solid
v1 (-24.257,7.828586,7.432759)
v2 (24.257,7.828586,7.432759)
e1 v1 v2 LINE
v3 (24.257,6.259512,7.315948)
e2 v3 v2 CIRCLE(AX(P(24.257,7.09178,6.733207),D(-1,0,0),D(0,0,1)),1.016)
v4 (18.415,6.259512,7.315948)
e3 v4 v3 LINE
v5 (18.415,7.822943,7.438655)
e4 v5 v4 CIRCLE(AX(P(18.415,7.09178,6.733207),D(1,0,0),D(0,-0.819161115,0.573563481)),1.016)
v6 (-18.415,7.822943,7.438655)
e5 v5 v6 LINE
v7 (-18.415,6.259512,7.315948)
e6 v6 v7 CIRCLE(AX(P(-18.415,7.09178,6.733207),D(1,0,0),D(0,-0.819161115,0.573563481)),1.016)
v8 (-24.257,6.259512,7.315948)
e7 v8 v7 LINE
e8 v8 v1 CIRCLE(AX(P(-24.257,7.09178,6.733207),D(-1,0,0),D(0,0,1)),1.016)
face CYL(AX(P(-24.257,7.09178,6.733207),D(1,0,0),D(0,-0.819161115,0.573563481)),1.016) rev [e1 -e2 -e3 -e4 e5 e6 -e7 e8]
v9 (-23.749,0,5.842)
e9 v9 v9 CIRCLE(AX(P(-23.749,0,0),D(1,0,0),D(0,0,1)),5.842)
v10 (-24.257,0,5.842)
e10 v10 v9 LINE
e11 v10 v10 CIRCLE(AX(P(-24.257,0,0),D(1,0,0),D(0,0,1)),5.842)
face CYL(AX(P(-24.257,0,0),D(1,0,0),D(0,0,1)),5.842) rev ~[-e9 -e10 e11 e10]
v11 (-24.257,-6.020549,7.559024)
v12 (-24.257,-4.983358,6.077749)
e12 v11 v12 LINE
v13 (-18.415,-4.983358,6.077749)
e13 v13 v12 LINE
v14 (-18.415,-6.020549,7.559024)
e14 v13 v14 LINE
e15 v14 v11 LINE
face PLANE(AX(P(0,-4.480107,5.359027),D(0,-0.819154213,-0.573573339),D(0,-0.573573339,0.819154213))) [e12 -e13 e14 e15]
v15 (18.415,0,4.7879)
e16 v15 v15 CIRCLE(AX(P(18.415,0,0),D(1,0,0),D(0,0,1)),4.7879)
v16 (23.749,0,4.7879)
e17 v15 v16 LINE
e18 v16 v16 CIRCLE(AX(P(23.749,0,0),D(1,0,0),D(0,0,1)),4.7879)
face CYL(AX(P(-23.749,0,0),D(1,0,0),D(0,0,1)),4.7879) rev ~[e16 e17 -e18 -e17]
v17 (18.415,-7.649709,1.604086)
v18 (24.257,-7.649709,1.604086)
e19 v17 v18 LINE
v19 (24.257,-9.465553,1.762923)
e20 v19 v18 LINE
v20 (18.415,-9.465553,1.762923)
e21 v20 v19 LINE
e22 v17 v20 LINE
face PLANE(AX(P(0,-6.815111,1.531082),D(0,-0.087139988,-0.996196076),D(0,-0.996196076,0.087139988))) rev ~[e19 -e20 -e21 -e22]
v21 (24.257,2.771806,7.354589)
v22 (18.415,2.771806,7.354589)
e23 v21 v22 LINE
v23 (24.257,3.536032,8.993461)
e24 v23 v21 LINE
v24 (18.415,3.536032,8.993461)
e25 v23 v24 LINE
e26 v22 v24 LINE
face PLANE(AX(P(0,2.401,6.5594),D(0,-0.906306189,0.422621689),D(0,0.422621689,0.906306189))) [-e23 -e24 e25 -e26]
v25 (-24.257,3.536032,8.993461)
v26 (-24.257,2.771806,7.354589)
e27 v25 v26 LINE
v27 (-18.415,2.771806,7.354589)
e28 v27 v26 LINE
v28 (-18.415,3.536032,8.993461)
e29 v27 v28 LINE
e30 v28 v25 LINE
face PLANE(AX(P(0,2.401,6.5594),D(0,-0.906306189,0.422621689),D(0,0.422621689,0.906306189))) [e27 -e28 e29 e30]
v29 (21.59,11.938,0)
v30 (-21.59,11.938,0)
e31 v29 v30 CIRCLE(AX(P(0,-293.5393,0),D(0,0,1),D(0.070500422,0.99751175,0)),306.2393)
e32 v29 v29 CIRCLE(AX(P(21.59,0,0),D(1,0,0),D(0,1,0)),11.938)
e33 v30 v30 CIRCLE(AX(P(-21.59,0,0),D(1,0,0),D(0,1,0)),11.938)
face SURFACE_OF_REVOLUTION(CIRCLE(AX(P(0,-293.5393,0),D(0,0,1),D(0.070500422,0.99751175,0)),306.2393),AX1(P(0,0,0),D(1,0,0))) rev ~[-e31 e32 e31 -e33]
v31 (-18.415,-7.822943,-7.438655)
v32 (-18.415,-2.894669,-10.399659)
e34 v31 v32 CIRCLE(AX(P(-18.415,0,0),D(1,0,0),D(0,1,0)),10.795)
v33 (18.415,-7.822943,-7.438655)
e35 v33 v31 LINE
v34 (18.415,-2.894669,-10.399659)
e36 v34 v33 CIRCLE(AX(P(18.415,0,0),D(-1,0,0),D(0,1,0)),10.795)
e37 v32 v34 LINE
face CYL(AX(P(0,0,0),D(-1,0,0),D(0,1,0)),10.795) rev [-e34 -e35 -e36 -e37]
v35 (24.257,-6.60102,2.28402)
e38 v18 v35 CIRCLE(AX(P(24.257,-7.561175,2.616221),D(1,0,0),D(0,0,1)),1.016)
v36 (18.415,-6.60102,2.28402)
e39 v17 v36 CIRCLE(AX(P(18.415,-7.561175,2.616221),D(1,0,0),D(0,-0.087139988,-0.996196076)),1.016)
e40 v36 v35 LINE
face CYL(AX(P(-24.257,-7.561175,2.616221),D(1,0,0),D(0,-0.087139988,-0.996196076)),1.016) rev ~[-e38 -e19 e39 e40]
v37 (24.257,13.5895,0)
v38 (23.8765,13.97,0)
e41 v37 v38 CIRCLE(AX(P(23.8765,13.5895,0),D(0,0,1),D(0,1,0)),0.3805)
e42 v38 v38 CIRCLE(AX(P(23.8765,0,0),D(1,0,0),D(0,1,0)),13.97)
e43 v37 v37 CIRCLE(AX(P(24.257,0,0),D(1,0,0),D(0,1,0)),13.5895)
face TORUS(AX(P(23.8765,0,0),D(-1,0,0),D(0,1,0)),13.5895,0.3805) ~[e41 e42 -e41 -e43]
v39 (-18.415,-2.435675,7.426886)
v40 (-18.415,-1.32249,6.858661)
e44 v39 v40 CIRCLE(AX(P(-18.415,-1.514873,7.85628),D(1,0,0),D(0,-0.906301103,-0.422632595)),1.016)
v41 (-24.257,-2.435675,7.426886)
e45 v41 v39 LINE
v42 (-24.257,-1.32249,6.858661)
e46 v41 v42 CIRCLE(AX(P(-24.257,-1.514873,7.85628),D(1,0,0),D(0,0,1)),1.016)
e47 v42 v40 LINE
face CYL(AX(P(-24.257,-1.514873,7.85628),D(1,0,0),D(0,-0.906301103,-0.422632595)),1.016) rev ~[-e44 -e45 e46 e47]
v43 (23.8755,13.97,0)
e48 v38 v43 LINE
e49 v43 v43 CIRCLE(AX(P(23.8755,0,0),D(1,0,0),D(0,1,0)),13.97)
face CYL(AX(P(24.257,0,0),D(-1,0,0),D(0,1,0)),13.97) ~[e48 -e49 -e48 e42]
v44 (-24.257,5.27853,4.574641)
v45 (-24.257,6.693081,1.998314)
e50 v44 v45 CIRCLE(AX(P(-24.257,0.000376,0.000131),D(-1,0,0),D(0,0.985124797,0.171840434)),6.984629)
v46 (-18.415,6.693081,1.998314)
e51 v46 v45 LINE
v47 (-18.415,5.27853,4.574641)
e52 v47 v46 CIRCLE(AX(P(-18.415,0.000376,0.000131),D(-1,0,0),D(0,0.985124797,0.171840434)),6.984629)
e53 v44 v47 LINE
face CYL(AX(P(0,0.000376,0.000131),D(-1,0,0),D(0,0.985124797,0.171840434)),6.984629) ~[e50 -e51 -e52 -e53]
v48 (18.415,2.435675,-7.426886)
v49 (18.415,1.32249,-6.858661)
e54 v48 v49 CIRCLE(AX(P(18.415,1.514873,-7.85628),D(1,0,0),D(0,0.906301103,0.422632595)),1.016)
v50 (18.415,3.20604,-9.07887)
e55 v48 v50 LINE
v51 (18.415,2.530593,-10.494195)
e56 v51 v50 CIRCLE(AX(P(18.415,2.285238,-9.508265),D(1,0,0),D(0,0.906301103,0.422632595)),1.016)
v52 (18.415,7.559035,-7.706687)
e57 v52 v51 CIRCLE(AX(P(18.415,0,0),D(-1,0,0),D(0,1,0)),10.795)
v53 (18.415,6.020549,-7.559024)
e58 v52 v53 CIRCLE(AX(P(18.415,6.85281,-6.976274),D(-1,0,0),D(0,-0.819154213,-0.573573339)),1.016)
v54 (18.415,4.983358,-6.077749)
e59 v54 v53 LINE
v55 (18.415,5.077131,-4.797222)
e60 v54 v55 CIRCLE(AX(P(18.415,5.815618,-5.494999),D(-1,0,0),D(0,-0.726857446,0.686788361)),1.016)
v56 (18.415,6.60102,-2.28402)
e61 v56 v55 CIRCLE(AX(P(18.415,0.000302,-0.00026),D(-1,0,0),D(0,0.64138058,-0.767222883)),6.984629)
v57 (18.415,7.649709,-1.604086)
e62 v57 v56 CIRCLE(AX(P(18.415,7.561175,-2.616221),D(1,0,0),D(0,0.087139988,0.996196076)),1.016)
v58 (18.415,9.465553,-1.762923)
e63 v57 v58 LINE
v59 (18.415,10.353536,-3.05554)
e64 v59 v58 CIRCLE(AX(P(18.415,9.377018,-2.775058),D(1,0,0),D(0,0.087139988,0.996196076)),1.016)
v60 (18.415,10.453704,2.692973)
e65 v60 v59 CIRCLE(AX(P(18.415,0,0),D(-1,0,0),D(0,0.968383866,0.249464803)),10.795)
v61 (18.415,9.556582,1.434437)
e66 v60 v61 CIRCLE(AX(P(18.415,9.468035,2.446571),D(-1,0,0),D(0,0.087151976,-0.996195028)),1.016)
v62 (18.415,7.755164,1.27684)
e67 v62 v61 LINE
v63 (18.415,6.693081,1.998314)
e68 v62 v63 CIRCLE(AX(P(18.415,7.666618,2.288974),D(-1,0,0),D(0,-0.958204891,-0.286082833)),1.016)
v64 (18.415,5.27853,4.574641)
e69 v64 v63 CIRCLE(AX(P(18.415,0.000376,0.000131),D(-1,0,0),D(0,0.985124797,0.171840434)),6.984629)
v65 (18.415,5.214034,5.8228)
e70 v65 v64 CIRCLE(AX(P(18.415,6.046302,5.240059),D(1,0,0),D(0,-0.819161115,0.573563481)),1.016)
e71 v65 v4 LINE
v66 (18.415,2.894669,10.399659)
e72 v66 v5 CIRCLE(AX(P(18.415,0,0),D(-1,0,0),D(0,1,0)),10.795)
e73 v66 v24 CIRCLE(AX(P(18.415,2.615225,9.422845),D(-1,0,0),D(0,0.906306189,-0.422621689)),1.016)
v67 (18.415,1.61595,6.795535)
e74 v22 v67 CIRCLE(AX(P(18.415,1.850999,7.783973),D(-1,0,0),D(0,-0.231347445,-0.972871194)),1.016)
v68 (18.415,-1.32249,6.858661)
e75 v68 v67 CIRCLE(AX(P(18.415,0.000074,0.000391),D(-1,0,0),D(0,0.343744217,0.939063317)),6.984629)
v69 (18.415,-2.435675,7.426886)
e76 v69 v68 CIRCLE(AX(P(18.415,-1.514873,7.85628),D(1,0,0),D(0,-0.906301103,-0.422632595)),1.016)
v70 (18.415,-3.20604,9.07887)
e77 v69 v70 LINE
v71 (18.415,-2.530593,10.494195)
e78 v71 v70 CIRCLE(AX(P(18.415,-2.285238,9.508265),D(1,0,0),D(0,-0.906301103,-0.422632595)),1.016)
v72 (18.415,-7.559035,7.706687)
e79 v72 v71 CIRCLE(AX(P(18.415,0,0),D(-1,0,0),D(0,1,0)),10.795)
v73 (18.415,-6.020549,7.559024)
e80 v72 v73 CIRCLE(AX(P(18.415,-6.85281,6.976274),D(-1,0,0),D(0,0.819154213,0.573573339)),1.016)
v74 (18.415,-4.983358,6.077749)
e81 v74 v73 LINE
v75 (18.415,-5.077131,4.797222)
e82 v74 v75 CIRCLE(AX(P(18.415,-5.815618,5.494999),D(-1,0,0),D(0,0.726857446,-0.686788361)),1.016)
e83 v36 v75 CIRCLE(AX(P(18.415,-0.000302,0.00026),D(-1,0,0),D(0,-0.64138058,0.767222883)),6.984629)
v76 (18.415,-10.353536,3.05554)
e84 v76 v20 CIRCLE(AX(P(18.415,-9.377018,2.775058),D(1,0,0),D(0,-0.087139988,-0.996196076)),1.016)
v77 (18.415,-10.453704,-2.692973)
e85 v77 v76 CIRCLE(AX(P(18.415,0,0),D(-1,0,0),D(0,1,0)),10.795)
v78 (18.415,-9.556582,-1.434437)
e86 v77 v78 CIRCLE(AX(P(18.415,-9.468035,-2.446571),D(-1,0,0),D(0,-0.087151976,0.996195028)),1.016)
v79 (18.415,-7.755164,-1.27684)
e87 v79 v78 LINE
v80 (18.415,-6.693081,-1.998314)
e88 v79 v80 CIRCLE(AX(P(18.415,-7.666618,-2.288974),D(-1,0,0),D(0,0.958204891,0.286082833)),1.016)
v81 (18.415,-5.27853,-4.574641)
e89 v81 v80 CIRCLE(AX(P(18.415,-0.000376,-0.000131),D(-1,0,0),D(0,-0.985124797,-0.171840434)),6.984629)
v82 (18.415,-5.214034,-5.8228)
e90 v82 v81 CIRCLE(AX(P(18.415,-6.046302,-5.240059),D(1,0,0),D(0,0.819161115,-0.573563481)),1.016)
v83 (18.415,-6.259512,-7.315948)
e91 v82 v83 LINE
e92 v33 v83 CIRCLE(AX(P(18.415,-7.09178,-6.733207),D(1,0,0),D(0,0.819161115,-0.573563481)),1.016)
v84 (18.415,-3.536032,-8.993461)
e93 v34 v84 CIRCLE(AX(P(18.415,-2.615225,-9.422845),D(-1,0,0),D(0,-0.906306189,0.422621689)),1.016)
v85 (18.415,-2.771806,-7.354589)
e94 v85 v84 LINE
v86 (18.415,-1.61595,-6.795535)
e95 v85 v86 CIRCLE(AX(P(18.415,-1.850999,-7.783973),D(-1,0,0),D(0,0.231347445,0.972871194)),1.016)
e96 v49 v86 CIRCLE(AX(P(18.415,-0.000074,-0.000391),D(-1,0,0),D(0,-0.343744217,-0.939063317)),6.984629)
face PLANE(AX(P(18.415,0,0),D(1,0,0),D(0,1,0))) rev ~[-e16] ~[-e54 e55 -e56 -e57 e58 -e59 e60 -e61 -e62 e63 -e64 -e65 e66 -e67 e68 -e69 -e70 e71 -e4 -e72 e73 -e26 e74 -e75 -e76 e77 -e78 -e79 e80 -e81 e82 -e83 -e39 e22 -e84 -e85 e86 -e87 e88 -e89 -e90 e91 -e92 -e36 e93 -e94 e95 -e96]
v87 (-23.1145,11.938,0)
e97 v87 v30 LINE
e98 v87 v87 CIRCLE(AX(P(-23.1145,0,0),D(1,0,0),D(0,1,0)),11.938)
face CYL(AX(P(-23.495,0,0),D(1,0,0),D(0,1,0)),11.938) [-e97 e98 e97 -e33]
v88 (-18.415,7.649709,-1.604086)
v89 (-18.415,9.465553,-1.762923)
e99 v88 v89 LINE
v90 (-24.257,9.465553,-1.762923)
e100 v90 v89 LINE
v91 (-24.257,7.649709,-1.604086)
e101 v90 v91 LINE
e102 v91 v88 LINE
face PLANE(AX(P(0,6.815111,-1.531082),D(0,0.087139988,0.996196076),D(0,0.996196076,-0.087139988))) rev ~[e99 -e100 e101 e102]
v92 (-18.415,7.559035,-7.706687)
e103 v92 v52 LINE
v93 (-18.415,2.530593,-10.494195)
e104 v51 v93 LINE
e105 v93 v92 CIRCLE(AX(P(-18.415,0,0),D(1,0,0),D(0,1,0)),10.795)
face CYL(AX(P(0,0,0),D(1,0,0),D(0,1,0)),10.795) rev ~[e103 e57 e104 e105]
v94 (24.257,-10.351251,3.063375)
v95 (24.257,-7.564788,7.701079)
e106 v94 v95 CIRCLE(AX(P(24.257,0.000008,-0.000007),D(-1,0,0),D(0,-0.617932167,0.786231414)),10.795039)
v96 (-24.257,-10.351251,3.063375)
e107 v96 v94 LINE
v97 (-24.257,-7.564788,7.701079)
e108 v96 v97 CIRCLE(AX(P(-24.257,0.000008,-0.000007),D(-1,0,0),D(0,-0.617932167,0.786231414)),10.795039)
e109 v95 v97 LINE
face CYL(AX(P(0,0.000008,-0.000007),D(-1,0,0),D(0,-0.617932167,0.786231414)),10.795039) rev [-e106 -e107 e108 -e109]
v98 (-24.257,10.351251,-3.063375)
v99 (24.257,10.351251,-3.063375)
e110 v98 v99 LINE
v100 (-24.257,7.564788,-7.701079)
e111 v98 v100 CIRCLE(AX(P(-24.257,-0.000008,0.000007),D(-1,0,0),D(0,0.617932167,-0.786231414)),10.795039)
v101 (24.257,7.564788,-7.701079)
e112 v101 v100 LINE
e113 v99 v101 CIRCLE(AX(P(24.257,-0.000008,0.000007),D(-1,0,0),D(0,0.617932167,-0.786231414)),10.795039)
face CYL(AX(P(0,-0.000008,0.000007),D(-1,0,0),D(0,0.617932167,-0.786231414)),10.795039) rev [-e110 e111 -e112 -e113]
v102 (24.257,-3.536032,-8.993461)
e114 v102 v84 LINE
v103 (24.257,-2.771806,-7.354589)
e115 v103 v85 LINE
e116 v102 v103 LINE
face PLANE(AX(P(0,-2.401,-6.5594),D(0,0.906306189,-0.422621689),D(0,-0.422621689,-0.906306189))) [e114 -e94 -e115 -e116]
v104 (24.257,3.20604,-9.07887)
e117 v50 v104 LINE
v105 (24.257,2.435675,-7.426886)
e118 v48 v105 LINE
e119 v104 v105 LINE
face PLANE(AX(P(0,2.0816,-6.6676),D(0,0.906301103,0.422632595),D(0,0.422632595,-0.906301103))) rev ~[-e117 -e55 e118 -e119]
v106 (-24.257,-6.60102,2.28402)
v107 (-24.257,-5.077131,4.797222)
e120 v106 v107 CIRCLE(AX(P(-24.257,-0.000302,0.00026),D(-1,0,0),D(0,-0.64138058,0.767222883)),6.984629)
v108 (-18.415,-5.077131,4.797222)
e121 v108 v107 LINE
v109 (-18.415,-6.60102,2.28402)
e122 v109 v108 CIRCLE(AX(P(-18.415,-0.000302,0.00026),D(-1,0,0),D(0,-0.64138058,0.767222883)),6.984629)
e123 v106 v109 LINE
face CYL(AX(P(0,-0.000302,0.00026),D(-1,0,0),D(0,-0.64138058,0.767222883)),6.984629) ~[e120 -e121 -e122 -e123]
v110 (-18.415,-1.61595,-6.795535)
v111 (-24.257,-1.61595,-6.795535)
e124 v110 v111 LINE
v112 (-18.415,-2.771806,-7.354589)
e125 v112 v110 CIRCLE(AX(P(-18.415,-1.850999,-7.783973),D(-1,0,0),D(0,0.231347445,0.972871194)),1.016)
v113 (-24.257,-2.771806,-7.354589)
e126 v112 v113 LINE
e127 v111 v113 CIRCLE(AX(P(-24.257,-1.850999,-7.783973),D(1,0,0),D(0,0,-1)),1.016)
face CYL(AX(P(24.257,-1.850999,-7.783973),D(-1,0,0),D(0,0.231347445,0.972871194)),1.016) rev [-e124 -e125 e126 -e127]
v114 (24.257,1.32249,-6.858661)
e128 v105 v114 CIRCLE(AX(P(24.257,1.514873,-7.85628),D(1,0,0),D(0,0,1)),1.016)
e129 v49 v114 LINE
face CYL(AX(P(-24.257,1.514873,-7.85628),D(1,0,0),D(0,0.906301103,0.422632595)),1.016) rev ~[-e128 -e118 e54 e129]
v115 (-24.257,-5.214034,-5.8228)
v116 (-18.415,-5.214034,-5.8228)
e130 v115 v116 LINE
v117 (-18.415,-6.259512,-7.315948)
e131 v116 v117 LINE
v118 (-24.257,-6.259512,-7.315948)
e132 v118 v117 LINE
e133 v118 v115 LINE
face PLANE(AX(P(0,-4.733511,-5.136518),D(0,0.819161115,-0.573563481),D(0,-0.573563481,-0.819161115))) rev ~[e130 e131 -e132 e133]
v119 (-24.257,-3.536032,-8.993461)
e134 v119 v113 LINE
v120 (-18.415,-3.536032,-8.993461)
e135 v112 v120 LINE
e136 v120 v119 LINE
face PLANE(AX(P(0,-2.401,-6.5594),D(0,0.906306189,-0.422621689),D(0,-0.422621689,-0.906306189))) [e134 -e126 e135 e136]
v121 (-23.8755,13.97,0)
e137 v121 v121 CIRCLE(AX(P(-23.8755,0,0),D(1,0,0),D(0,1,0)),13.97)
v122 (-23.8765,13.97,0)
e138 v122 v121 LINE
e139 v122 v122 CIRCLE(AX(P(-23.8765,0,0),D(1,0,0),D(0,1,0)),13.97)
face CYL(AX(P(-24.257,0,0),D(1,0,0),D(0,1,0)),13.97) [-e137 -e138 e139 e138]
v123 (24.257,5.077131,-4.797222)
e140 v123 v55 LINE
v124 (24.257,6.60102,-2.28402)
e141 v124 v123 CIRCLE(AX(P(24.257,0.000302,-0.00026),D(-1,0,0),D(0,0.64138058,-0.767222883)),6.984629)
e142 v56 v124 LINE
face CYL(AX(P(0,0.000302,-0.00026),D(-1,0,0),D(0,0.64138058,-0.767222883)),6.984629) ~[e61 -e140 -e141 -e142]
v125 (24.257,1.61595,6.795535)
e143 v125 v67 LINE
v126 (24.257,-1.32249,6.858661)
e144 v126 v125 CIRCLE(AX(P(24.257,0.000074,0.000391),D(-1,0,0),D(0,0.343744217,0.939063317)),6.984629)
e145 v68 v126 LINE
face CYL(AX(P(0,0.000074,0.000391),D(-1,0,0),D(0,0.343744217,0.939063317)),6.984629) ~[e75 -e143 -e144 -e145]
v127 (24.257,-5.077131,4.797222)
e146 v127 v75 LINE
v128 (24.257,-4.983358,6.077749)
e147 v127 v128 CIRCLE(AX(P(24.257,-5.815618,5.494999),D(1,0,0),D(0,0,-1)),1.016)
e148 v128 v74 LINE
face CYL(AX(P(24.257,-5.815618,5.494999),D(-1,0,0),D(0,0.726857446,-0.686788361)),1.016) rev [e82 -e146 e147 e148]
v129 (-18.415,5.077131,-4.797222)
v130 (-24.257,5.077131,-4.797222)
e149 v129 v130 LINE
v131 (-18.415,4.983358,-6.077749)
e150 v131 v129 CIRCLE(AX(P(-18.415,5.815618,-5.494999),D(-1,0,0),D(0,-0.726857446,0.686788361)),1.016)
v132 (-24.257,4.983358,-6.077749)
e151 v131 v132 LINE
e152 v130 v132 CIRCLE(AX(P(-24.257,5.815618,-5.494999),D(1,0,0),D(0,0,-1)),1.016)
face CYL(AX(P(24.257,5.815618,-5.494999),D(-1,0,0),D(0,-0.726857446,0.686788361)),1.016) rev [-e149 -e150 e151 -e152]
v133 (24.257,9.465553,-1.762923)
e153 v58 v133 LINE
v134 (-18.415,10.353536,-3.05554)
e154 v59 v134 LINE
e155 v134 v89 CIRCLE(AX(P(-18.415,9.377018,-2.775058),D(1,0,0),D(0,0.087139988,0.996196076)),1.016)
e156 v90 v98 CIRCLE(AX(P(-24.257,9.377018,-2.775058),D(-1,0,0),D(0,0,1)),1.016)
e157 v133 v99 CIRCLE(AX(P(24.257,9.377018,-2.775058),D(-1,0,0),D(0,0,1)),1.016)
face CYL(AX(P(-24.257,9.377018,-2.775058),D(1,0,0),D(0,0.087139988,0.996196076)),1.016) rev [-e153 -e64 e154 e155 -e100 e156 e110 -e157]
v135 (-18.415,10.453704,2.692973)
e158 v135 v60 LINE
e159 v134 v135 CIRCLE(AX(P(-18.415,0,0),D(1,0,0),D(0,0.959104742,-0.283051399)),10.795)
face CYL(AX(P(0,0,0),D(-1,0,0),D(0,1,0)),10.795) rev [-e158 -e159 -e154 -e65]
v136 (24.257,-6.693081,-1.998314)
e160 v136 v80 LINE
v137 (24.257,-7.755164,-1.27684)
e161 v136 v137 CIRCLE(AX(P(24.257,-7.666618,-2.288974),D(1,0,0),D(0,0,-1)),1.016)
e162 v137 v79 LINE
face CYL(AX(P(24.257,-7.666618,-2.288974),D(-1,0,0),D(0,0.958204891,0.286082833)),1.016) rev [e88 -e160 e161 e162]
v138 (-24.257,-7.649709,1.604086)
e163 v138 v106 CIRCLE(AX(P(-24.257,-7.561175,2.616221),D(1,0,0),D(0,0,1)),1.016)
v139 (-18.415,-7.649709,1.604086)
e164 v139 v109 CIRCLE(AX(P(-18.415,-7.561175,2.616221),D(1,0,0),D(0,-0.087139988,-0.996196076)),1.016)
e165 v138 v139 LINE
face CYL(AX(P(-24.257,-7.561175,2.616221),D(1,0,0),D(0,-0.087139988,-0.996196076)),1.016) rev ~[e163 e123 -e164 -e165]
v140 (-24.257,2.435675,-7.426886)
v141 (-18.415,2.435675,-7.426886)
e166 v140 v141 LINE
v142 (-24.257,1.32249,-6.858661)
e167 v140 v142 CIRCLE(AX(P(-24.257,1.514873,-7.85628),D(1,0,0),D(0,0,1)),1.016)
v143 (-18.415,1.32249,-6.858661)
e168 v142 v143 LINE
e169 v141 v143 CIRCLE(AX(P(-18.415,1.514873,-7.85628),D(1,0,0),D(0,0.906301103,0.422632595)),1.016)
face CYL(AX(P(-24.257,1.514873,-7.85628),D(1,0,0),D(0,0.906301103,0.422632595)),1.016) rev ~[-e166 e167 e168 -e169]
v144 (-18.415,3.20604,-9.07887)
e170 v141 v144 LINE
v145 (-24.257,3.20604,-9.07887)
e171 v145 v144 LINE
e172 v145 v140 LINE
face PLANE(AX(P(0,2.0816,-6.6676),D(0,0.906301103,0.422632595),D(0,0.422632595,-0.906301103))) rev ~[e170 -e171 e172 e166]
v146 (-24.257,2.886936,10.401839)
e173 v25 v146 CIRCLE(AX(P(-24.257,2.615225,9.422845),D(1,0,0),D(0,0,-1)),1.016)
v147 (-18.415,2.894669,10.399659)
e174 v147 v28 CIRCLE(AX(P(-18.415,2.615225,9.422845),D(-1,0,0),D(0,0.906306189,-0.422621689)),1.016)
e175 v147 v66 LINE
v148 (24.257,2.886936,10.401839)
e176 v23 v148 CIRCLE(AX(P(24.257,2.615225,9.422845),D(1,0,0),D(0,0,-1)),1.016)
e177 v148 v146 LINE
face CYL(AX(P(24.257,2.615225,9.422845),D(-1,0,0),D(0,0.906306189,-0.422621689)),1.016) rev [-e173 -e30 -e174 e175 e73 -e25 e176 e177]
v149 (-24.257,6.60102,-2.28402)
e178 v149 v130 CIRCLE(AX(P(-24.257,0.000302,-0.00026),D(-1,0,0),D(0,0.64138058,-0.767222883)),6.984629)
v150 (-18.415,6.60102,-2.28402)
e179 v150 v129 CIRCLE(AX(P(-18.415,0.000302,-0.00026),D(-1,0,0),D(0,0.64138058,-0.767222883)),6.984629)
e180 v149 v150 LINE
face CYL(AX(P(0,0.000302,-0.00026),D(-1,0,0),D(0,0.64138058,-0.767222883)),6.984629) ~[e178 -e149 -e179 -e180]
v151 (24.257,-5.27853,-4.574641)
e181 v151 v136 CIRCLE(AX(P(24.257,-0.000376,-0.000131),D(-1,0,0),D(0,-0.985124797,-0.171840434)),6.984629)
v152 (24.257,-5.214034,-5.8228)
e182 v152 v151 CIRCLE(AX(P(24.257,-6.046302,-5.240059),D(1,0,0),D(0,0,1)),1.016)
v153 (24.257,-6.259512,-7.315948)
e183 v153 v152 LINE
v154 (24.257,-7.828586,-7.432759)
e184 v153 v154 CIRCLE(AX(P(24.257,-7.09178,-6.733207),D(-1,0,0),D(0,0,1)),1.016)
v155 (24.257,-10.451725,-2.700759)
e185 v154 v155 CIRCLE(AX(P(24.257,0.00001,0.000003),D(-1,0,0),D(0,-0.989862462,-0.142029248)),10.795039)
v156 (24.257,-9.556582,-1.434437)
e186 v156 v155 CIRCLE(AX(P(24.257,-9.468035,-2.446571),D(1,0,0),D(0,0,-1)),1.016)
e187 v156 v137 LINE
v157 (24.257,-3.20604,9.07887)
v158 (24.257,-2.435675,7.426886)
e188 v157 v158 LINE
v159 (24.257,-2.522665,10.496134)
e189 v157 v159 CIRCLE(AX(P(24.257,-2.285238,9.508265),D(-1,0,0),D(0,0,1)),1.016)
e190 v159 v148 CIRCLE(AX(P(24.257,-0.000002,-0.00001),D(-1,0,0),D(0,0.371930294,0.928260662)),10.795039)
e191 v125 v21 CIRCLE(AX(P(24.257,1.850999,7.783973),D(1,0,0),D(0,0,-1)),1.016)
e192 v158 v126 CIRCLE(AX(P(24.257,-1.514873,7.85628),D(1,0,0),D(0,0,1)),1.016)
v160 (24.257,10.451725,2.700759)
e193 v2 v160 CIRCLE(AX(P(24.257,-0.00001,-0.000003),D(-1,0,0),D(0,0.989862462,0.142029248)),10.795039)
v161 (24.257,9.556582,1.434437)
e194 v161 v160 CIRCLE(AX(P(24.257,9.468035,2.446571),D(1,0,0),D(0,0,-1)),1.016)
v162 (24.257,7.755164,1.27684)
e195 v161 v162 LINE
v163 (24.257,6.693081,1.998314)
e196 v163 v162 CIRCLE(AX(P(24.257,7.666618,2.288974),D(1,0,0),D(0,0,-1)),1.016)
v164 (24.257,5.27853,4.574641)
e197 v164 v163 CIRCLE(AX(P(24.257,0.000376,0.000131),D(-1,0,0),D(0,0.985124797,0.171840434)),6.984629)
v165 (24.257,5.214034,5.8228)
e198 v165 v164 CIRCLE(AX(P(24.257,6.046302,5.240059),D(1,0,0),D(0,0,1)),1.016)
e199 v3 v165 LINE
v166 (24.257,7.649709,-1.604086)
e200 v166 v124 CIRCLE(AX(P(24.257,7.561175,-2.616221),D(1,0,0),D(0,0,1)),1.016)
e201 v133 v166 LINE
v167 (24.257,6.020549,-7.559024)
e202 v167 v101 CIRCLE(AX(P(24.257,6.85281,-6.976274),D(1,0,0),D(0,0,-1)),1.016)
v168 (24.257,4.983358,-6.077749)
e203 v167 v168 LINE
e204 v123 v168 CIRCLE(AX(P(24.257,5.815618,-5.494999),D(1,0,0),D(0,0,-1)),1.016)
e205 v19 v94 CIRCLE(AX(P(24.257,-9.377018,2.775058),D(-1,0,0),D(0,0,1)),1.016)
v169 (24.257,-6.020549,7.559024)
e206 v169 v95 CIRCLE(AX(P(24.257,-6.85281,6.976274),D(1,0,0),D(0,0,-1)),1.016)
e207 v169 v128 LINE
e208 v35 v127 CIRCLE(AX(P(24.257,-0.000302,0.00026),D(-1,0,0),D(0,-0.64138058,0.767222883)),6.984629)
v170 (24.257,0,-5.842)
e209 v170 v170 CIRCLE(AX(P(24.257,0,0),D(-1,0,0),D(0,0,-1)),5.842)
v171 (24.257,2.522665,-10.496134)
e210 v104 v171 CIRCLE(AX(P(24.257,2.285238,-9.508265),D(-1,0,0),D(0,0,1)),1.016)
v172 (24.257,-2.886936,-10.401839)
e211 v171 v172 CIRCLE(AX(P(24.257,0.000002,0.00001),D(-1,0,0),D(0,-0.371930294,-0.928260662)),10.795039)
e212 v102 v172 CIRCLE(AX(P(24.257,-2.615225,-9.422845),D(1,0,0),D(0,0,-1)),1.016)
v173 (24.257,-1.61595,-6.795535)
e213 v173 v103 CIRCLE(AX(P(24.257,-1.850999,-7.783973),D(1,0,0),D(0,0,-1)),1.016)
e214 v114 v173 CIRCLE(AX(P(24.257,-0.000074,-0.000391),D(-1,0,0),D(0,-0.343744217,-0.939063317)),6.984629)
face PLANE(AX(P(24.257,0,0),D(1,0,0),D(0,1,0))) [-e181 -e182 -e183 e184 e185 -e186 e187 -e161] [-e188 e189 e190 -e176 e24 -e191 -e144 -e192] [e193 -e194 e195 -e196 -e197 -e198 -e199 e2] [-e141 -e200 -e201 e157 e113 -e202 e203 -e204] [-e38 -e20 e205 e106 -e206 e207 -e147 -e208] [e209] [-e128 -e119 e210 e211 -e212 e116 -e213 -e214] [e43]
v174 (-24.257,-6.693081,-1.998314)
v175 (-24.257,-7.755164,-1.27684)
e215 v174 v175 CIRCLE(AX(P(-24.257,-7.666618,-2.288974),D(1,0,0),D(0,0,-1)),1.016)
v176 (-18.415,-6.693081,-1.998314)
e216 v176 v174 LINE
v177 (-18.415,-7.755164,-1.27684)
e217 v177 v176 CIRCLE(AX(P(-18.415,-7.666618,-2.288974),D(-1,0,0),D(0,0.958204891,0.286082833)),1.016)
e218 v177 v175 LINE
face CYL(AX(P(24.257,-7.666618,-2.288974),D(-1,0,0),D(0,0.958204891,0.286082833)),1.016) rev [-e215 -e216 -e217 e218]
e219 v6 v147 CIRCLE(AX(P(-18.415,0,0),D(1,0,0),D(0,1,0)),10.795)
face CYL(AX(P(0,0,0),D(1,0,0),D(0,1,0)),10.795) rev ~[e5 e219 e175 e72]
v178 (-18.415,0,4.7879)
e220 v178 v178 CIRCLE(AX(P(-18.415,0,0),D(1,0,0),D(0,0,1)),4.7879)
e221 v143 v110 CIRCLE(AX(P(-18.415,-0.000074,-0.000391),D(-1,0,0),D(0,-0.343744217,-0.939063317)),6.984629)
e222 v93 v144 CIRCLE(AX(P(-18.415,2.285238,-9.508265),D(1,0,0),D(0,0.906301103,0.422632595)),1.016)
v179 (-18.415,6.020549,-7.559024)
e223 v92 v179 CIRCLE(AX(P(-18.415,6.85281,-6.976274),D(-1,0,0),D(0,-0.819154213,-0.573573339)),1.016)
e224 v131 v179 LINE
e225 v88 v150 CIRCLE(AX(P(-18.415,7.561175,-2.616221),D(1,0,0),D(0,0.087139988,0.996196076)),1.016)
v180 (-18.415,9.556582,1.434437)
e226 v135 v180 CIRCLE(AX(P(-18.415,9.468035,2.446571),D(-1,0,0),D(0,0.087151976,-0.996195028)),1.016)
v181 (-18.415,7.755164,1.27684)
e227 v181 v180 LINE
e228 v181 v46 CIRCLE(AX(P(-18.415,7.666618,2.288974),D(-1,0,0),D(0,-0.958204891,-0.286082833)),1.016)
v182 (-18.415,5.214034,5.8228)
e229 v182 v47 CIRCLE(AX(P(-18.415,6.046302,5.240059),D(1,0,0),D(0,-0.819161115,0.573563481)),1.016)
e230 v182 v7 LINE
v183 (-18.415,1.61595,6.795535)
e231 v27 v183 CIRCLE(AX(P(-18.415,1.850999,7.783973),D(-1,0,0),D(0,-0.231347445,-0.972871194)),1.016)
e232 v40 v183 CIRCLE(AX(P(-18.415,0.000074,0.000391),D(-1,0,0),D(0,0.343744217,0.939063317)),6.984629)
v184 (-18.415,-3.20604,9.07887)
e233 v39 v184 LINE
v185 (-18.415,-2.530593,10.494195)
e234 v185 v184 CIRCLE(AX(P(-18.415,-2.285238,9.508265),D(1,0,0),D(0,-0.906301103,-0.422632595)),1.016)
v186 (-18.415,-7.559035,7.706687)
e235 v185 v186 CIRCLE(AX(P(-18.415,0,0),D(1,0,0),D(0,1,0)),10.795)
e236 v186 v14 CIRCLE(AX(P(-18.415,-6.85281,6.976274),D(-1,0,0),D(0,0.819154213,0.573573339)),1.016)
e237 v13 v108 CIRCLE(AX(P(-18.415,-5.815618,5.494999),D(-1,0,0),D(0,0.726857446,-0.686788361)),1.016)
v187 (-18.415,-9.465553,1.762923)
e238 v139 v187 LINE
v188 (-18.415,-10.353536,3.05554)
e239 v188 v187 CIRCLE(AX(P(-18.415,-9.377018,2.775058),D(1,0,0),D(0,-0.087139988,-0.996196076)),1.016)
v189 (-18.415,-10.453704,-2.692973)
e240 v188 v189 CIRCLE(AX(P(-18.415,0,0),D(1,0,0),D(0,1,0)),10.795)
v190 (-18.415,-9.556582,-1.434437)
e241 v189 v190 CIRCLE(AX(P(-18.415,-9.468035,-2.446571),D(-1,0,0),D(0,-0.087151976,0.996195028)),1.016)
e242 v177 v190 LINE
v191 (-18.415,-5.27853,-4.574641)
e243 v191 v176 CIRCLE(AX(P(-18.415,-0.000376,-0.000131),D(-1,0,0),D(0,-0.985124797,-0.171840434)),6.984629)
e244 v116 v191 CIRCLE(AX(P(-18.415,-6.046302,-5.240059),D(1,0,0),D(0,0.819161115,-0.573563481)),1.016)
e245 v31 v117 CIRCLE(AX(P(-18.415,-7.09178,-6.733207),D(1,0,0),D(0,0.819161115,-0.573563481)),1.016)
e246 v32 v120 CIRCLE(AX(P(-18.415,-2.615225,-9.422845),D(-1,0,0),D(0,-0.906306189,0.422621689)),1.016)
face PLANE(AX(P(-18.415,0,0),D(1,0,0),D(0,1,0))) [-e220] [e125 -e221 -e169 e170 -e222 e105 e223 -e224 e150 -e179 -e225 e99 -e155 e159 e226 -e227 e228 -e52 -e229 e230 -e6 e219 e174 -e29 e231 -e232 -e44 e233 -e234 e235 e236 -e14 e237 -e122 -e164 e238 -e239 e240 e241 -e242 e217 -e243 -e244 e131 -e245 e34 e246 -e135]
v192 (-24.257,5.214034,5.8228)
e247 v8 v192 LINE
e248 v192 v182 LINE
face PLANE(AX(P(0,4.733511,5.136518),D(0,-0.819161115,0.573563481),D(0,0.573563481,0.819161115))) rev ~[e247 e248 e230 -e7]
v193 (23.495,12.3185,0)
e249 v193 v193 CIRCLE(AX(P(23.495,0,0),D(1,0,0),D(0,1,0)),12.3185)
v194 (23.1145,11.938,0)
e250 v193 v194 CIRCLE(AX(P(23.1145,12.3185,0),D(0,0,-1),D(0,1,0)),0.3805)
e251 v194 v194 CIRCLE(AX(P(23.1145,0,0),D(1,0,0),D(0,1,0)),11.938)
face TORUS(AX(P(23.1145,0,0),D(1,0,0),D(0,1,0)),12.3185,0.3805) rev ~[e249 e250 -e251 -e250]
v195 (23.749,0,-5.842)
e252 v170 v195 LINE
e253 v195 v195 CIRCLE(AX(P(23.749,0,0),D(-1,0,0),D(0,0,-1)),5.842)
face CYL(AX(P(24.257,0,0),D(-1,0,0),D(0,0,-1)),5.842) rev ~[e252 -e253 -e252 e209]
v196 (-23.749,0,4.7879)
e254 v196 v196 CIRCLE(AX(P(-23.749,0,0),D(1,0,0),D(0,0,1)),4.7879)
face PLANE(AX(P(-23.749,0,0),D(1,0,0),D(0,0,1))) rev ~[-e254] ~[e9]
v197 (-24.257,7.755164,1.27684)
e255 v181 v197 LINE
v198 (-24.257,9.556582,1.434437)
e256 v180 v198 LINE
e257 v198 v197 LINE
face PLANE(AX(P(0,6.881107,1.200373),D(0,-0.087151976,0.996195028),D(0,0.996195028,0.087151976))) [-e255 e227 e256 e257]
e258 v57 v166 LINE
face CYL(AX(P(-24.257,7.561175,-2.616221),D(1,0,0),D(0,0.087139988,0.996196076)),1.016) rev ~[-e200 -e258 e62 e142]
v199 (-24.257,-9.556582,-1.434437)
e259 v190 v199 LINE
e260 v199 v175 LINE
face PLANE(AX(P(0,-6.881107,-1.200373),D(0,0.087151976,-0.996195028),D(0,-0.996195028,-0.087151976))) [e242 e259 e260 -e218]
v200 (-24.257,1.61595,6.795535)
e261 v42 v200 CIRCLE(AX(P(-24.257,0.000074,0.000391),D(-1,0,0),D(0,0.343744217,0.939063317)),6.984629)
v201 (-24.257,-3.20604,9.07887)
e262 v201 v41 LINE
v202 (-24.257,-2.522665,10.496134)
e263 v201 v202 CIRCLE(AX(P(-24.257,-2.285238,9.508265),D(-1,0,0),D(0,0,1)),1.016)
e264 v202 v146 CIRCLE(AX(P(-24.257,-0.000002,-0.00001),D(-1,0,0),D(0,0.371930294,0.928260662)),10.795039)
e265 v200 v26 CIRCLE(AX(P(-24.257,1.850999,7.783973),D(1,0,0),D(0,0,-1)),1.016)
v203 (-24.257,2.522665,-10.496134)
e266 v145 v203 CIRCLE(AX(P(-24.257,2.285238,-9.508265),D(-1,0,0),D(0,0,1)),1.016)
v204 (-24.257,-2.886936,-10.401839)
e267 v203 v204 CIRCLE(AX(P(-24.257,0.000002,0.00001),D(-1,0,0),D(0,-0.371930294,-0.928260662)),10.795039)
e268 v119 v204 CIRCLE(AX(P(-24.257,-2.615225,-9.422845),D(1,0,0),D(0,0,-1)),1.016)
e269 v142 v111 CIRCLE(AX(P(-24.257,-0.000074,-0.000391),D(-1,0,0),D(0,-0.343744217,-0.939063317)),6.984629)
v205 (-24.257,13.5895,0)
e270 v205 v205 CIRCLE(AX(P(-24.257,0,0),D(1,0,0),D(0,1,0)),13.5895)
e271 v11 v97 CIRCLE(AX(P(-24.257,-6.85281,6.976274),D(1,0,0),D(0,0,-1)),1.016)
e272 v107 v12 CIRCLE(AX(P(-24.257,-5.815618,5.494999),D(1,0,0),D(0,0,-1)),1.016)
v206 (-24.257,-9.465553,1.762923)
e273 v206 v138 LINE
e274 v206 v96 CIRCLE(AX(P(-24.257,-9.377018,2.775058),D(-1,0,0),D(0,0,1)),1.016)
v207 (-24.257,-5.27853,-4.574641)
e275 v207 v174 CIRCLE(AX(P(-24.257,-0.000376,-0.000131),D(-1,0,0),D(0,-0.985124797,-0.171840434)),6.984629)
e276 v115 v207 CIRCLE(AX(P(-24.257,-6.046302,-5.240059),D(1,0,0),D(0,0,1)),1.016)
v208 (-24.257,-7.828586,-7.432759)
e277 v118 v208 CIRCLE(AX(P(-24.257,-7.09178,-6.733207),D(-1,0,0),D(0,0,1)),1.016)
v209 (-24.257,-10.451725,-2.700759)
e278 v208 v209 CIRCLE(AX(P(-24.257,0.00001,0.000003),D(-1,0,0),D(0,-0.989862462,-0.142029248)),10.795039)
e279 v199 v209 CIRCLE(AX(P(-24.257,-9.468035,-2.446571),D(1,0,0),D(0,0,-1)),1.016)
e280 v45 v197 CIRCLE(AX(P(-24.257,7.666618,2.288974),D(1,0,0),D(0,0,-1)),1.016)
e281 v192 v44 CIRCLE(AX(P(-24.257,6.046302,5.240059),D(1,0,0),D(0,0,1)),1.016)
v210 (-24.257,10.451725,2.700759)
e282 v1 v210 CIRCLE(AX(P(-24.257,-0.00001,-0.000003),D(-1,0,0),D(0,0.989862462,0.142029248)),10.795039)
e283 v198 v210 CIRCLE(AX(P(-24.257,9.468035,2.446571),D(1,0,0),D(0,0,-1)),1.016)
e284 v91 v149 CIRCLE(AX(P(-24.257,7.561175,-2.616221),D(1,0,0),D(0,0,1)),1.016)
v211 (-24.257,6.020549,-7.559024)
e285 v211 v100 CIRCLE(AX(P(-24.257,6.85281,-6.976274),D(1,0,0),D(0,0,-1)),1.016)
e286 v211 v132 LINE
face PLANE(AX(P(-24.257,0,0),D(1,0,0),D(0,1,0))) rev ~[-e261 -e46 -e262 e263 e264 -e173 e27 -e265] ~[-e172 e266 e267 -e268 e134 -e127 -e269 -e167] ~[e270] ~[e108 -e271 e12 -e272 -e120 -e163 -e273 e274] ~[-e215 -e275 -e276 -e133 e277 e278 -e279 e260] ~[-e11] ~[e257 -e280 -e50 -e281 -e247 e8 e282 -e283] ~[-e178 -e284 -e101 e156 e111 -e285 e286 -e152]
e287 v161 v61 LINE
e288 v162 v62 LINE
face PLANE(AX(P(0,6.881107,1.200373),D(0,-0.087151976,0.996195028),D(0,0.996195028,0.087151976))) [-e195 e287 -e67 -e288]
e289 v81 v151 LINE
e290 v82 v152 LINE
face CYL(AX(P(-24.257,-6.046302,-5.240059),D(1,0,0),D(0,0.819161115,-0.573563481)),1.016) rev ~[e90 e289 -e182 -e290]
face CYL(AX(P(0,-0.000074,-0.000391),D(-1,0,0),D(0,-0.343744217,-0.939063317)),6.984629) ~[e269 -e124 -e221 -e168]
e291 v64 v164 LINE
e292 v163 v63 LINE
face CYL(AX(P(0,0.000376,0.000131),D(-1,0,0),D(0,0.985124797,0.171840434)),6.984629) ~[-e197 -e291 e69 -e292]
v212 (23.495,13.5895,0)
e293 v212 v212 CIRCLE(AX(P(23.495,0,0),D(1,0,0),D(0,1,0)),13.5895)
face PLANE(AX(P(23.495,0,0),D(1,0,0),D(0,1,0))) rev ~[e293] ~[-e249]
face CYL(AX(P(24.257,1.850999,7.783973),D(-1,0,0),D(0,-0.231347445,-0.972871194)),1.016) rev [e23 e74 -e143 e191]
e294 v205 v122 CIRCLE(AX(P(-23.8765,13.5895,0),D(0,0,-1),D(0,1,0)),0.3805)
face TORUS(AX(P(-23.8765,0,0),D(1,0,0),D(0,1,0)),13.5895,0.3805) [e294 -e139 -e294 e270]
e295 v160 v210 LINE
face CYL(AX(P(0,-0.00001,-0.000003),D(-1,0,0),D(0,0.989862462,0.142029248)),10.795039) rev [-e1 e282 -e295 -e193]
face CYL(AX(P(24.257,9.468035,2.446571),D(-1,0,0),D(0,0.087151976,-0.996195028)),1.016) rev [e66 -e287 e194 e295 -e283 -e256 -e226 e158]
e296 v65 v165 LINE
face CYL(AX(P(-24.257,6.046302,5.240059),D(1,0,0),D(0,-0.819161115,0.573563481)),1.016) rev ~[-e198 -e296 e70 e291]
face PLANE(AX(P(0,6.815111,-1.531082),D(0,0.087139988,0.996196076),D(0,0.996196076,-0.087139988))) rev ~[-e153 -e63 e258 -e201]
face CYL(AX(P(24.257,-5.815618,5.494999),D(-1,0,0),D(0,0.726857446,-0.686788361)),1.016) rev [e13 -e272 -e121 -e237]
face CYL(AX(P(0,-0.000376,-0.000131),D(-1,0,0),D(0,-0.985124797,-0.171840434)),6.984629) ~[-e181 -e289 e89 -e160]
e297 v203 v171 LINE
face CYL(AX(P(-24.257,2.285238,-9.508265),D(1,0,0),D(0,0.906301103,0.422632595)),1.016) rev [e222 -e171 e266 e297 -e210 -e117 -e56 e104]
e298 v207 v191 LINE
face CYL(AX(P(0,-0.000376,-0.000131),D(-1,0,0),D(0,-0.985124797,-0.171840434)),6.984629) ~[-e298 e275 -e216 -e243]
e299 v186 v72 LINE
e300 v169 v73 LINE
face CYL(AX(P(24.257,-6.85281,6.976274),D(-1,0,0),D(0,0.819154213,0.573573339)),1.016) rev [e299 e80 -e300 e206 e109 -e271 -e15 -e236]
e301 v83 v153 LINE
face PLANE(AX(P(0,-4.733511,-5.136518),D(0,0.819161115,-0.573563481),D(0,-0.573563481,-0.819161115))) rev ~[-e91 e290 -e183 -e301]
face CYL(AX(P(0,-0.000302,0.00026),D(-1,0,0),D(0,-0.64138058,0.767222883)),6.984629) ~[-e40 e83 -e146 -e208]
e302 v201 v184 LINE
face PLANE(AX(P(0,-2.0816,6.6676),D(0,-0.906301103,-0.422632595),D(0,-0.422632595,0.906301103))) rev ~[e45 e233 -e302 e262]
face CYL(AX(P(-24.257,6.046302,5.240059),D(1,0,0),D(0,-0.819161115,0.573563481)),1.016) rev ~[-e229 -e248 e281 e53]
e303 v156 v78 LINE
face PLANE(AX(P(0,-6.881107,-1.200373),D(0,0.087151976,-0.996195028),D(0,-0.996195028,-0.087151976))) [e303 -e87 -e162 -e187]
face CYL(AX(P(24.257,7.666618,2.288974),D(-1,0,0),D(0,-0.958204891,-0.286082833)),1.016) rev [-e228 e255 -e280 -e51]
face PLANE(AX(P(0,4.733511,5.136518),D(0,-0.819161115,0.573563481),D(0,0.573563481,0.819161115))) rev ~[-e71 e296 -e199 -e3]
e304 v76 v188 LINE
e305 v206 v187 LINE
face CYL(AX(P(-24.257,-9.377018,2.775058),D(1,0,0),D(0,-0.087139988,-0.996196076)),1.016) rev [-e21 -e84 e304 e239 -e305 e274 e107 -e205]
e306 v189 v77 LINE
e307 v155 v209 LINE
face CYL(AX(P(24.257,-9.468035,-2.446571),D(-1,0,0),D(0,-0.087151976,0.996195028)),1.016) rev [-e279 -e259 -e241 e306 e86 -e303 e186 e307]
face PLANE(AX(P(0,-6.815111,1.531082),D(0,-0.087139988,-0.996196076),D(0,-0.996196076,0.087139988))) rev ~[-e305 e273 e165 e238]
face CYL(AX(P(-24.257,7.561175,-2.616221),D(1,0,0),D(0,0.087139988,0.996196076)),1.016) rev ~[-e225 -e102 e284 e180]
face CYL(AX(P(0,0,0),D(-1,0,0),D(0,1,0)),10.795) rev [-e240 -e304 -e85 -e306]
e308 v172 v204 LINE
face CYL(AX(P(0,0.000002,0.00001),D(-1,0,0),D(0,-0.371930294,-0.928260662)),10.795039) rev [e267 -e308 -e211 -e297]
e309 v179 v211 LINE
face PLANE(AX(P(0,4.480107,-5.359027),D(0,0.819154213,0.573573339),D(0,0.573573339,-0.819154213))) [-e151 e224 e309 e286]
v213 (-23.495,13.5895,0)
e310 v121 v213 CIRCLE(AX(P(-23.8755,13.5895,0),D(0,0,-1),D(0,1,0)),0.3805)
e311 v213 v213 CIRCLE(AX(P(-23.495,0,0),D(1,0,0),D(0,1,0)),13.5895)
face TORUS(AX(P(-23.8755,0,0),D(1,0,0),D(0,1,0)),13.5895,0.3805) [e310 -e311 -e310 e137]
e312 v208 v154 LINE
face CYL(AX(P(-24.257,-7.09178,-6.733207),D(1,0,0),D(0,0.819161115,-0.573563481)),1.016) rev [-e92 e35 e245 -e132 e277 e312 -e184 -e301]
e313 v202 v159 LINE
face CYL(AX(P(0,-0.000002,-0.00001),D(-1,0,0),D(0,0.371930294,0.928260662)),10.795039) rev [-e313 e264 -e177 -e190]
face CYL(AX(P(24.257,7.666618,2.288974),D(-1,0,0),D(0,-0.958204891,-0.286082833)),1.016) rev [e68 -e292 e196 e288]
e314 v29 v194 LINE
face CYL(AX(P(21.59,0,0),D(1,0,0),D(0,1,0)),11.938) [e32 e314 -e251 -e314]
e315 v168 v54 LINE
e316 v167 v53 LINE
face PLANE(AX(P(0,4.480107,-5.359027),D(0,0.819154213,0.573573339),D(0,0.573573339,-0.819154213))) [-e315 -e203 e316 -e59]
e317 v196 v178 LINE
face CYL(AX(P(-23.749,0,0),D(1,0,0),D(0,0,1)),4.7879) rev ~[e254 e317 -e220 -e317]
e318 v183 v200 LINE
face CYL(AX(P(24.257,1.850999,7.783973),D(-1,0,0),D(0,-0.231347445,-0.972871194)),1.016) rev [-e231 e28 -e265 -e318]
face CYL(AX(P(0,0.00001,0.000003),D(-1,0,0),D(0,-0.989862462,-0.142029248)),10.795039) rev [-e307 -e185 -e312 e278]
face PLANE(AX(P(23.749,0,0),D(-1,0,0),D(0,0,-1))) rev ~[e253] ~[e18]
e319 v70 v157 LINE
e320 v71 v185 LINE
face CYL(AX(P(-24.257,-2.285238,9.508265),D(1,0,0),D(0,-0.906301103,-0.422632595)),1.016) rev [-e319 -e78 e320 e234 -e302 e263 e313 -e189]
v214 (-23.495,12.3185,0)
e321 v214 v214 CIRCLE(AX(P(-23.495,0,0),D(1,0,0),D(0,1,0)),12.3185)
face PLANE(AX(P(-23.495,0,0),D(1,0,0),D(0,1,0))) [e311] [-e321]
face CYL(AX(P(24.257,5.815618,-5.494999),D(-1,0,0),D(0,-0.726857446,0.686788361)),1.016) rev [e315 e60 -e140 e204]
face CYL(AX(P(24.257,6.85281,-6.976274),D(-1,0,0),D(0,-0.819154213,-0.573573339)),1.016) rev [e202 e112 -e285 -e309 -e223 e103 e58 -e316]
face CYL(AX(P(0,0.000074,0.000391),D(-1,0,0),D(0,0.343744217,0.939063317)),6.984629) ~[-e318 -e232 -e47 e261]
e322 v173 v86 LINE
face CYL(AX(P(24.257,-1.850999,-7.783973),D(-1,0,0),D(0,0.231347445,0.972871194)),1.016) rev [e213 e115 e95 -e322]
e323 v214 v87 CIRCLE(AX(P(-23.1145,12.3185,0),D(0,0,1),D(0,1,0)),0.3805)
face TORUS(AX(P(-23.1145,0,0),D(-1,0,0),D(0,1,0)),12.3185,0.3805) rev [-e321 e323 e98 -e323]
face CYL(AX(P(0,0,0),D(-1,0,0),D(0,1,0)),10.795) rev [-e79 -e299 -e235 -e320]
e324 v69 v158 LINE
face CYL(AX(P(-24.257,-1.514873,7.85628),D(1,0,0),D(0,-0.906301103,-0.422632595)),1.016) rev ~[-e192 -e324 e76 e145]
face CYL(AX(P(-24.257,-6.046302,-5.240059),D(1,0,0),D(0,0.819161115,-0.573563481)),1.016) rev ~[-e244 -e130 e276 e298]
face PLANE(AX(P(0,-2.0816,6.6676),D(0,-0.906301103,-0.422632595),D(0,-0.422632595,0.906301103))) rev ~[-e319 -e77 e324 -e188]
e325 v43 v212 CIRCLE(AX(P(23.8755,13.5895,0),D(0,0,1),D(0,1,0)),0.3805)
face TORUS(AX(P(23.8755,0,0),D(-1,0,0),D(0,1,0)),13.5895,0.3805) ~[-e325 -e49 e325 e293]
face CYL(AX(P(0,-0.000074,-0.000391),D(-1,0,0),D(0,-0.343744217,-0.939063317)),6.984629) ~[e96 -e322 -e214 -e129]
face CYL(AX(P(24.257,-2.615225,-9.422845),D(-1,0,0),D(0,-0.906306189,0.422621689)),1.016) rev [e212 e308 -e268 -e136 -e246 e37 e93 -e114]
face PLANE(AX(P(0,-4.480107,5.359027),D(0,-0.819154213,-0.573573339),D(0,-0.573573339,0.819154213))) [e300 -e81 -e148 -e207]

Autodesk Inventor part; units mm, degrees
ref_plane "YZ Plane" through (0, 0, 0) normal (1, 0, 0) x (0, 1, 0)
ref_plane "XY Plane" through (0, 0, 0) normal (0, 0, 1) x (1, 0, 0)
sketch "Sketch10" plane through (0, 0, 0) normal (0, 0, 1) x (1, 0, 0)
  line L0 (-33.9598, 0) -> (33.9598, 0) projected
  line L1 (24.257, -12.7) -> (-24.257, -12.7) construction
  line L2 (-24.257, -12.7) -> (-24.257, 12.7) construction
  line L3 (-24.257, 12.7) -> (24.257, 12.7) construction
  line L4 (24.257, 12.7) -> (24.257, -12.7) construction
  line L5 (24.257, -12.7) -> (-24.257, 12.7) construction
  line L6 (-24.257, -12.7) -> (24.257, 12.7) construction
  line L7 (-24.257, 13.97) -> (-23.495, 13.97)
  line L8 (-23.495, 13.97) -> (-23.495, 11.938)
  line L9 (24.257, 13.97) -> (23.495, 13.97)
  line L10 (23.495, 13.97) -> (23.495, 11.938)
  line L11 (-24.257, 13.97) -> (-24.257, 0)
  line L12 (24.257, 13.97) -> (24.257, 0)
  line L13 (-24.257, 0) -> (24.257, 0)
  arc A0 (21.59, 11.938) -> (-21.59, 11.938) centre (0, -293.5393) ccw
  line L14 (-23.495, 11.938) -> (-21.59, 11.938)
  line L15 (21.59, 11.938) -> (23.495, 11.938)
  point P0 (0, 0)
  dimension "d72" = 48.514
  dimension "d73" = 25.4
  dimension "d74" = 0.762
  dimension "d75" = 1.27
  dimension "d80" = 1.905
  dimension "d81" = 0.762
  dimension "d82" = 46.99
revolve "Revolution3" add sketch "Sketch10" angle 360 about axis through (0, 0, 0) along (1, 0, 0)
sketch "Sketch11" plane through (0, 0, 0) normal (1, 0, 0) x (0, 1, 0)
  circle A0 centre (0, 0) radius 1.5875
  dimension "d84" = 3.175
extrude "Extrusion5" cut sketch "Sketch11" along normal up to surface (48.514 mm away) from surface at -24.257
fillet "Fillet5" radius 0.381 6 edges at (-23.495, -11.938, 0) (23.495, -11.938, 0) (23.495, -13.97, 0) (24.257, -13.97, 0) (-24.257, -13.97, 0) (-23.495, -13.97, 0)
hole "Hole5" at (-24.257, 0, 0) direction (1, 0, 0) diameter 9.5758 end through all counterbore diameter 11.684 counterbore depth 0.508
hole "Hole6" at (24.257, 0, 0) direction (-1, 0, 0) diameter 9.5758 end through all counterbore diameter 11.684 counterbore depth 0.508
sketch "Sketch12" plane through (0, 0, 0) normal (1, 0, 0) x (0, 1, 0)
  circle A0 centre (0, 0) radius 11.938 projected
  circle A1 centre (0, 0) radius 5.842 projected
  line L0 (0, 21.1582) -> (0, -21.1582) projected
  line L1 (-21.1582, 0) -> (21.1582, 0) projected
  circle A2 centre (0, 0) radius 5.842 projected
  line L2 (-2.0816, 6.6676) -> (-3.7012, 10.1407)
  line L3 (2.401, 6.5594) -> (4.015, 10.0206)
  arc A3 (2.401, 6.5594) -> (-2.0816, 6.6676) centre (0, 0) ccw
  arc A4 (4.015, 10.0206) -> (-3.7012, 10.1407) centre (0, 0) ccw
  dimension "d112" = 25
  dimension "d113" = 25
  dimension "d114" = 10.795
  dimension "d115" = 6.985
extrude "Extrusion6" cut sketch "Sketch12" along normal mid plane 73.66 contours A4 L3 A3 L0 | L0 A3 L2 A4
fillet "Fillet6" radius 1.016 4 edges at (0, 4.015, 10.0206) (0, 2.401, 6.5594) (0, -2.0816, 6.6676) (0, -3.7012, 10.1407)
pattern_circular "Circular Pattern1" count 6 over 360 about axis through (-10, 0, 0) along (1, 0, 0) of "Extrusion6", "Fillet6"
sketch "Sketch13" plane through (0, 0, 0) normal (1, 0, 0) x (0, 1, 0)
  line L0 (0, 19.558) -> (0, -19.558) projected
  line L1 (-19.558, 0) -> (19.558, 0) projected
  circle A0 centre (0, 0) radius 10.795
  dimension "d122" = 21.59
extrude "Extrusion7" cut sketch "Sketch13" along normal mid plane 36.83
properties part number "J005551" material "VERO BLACK"
